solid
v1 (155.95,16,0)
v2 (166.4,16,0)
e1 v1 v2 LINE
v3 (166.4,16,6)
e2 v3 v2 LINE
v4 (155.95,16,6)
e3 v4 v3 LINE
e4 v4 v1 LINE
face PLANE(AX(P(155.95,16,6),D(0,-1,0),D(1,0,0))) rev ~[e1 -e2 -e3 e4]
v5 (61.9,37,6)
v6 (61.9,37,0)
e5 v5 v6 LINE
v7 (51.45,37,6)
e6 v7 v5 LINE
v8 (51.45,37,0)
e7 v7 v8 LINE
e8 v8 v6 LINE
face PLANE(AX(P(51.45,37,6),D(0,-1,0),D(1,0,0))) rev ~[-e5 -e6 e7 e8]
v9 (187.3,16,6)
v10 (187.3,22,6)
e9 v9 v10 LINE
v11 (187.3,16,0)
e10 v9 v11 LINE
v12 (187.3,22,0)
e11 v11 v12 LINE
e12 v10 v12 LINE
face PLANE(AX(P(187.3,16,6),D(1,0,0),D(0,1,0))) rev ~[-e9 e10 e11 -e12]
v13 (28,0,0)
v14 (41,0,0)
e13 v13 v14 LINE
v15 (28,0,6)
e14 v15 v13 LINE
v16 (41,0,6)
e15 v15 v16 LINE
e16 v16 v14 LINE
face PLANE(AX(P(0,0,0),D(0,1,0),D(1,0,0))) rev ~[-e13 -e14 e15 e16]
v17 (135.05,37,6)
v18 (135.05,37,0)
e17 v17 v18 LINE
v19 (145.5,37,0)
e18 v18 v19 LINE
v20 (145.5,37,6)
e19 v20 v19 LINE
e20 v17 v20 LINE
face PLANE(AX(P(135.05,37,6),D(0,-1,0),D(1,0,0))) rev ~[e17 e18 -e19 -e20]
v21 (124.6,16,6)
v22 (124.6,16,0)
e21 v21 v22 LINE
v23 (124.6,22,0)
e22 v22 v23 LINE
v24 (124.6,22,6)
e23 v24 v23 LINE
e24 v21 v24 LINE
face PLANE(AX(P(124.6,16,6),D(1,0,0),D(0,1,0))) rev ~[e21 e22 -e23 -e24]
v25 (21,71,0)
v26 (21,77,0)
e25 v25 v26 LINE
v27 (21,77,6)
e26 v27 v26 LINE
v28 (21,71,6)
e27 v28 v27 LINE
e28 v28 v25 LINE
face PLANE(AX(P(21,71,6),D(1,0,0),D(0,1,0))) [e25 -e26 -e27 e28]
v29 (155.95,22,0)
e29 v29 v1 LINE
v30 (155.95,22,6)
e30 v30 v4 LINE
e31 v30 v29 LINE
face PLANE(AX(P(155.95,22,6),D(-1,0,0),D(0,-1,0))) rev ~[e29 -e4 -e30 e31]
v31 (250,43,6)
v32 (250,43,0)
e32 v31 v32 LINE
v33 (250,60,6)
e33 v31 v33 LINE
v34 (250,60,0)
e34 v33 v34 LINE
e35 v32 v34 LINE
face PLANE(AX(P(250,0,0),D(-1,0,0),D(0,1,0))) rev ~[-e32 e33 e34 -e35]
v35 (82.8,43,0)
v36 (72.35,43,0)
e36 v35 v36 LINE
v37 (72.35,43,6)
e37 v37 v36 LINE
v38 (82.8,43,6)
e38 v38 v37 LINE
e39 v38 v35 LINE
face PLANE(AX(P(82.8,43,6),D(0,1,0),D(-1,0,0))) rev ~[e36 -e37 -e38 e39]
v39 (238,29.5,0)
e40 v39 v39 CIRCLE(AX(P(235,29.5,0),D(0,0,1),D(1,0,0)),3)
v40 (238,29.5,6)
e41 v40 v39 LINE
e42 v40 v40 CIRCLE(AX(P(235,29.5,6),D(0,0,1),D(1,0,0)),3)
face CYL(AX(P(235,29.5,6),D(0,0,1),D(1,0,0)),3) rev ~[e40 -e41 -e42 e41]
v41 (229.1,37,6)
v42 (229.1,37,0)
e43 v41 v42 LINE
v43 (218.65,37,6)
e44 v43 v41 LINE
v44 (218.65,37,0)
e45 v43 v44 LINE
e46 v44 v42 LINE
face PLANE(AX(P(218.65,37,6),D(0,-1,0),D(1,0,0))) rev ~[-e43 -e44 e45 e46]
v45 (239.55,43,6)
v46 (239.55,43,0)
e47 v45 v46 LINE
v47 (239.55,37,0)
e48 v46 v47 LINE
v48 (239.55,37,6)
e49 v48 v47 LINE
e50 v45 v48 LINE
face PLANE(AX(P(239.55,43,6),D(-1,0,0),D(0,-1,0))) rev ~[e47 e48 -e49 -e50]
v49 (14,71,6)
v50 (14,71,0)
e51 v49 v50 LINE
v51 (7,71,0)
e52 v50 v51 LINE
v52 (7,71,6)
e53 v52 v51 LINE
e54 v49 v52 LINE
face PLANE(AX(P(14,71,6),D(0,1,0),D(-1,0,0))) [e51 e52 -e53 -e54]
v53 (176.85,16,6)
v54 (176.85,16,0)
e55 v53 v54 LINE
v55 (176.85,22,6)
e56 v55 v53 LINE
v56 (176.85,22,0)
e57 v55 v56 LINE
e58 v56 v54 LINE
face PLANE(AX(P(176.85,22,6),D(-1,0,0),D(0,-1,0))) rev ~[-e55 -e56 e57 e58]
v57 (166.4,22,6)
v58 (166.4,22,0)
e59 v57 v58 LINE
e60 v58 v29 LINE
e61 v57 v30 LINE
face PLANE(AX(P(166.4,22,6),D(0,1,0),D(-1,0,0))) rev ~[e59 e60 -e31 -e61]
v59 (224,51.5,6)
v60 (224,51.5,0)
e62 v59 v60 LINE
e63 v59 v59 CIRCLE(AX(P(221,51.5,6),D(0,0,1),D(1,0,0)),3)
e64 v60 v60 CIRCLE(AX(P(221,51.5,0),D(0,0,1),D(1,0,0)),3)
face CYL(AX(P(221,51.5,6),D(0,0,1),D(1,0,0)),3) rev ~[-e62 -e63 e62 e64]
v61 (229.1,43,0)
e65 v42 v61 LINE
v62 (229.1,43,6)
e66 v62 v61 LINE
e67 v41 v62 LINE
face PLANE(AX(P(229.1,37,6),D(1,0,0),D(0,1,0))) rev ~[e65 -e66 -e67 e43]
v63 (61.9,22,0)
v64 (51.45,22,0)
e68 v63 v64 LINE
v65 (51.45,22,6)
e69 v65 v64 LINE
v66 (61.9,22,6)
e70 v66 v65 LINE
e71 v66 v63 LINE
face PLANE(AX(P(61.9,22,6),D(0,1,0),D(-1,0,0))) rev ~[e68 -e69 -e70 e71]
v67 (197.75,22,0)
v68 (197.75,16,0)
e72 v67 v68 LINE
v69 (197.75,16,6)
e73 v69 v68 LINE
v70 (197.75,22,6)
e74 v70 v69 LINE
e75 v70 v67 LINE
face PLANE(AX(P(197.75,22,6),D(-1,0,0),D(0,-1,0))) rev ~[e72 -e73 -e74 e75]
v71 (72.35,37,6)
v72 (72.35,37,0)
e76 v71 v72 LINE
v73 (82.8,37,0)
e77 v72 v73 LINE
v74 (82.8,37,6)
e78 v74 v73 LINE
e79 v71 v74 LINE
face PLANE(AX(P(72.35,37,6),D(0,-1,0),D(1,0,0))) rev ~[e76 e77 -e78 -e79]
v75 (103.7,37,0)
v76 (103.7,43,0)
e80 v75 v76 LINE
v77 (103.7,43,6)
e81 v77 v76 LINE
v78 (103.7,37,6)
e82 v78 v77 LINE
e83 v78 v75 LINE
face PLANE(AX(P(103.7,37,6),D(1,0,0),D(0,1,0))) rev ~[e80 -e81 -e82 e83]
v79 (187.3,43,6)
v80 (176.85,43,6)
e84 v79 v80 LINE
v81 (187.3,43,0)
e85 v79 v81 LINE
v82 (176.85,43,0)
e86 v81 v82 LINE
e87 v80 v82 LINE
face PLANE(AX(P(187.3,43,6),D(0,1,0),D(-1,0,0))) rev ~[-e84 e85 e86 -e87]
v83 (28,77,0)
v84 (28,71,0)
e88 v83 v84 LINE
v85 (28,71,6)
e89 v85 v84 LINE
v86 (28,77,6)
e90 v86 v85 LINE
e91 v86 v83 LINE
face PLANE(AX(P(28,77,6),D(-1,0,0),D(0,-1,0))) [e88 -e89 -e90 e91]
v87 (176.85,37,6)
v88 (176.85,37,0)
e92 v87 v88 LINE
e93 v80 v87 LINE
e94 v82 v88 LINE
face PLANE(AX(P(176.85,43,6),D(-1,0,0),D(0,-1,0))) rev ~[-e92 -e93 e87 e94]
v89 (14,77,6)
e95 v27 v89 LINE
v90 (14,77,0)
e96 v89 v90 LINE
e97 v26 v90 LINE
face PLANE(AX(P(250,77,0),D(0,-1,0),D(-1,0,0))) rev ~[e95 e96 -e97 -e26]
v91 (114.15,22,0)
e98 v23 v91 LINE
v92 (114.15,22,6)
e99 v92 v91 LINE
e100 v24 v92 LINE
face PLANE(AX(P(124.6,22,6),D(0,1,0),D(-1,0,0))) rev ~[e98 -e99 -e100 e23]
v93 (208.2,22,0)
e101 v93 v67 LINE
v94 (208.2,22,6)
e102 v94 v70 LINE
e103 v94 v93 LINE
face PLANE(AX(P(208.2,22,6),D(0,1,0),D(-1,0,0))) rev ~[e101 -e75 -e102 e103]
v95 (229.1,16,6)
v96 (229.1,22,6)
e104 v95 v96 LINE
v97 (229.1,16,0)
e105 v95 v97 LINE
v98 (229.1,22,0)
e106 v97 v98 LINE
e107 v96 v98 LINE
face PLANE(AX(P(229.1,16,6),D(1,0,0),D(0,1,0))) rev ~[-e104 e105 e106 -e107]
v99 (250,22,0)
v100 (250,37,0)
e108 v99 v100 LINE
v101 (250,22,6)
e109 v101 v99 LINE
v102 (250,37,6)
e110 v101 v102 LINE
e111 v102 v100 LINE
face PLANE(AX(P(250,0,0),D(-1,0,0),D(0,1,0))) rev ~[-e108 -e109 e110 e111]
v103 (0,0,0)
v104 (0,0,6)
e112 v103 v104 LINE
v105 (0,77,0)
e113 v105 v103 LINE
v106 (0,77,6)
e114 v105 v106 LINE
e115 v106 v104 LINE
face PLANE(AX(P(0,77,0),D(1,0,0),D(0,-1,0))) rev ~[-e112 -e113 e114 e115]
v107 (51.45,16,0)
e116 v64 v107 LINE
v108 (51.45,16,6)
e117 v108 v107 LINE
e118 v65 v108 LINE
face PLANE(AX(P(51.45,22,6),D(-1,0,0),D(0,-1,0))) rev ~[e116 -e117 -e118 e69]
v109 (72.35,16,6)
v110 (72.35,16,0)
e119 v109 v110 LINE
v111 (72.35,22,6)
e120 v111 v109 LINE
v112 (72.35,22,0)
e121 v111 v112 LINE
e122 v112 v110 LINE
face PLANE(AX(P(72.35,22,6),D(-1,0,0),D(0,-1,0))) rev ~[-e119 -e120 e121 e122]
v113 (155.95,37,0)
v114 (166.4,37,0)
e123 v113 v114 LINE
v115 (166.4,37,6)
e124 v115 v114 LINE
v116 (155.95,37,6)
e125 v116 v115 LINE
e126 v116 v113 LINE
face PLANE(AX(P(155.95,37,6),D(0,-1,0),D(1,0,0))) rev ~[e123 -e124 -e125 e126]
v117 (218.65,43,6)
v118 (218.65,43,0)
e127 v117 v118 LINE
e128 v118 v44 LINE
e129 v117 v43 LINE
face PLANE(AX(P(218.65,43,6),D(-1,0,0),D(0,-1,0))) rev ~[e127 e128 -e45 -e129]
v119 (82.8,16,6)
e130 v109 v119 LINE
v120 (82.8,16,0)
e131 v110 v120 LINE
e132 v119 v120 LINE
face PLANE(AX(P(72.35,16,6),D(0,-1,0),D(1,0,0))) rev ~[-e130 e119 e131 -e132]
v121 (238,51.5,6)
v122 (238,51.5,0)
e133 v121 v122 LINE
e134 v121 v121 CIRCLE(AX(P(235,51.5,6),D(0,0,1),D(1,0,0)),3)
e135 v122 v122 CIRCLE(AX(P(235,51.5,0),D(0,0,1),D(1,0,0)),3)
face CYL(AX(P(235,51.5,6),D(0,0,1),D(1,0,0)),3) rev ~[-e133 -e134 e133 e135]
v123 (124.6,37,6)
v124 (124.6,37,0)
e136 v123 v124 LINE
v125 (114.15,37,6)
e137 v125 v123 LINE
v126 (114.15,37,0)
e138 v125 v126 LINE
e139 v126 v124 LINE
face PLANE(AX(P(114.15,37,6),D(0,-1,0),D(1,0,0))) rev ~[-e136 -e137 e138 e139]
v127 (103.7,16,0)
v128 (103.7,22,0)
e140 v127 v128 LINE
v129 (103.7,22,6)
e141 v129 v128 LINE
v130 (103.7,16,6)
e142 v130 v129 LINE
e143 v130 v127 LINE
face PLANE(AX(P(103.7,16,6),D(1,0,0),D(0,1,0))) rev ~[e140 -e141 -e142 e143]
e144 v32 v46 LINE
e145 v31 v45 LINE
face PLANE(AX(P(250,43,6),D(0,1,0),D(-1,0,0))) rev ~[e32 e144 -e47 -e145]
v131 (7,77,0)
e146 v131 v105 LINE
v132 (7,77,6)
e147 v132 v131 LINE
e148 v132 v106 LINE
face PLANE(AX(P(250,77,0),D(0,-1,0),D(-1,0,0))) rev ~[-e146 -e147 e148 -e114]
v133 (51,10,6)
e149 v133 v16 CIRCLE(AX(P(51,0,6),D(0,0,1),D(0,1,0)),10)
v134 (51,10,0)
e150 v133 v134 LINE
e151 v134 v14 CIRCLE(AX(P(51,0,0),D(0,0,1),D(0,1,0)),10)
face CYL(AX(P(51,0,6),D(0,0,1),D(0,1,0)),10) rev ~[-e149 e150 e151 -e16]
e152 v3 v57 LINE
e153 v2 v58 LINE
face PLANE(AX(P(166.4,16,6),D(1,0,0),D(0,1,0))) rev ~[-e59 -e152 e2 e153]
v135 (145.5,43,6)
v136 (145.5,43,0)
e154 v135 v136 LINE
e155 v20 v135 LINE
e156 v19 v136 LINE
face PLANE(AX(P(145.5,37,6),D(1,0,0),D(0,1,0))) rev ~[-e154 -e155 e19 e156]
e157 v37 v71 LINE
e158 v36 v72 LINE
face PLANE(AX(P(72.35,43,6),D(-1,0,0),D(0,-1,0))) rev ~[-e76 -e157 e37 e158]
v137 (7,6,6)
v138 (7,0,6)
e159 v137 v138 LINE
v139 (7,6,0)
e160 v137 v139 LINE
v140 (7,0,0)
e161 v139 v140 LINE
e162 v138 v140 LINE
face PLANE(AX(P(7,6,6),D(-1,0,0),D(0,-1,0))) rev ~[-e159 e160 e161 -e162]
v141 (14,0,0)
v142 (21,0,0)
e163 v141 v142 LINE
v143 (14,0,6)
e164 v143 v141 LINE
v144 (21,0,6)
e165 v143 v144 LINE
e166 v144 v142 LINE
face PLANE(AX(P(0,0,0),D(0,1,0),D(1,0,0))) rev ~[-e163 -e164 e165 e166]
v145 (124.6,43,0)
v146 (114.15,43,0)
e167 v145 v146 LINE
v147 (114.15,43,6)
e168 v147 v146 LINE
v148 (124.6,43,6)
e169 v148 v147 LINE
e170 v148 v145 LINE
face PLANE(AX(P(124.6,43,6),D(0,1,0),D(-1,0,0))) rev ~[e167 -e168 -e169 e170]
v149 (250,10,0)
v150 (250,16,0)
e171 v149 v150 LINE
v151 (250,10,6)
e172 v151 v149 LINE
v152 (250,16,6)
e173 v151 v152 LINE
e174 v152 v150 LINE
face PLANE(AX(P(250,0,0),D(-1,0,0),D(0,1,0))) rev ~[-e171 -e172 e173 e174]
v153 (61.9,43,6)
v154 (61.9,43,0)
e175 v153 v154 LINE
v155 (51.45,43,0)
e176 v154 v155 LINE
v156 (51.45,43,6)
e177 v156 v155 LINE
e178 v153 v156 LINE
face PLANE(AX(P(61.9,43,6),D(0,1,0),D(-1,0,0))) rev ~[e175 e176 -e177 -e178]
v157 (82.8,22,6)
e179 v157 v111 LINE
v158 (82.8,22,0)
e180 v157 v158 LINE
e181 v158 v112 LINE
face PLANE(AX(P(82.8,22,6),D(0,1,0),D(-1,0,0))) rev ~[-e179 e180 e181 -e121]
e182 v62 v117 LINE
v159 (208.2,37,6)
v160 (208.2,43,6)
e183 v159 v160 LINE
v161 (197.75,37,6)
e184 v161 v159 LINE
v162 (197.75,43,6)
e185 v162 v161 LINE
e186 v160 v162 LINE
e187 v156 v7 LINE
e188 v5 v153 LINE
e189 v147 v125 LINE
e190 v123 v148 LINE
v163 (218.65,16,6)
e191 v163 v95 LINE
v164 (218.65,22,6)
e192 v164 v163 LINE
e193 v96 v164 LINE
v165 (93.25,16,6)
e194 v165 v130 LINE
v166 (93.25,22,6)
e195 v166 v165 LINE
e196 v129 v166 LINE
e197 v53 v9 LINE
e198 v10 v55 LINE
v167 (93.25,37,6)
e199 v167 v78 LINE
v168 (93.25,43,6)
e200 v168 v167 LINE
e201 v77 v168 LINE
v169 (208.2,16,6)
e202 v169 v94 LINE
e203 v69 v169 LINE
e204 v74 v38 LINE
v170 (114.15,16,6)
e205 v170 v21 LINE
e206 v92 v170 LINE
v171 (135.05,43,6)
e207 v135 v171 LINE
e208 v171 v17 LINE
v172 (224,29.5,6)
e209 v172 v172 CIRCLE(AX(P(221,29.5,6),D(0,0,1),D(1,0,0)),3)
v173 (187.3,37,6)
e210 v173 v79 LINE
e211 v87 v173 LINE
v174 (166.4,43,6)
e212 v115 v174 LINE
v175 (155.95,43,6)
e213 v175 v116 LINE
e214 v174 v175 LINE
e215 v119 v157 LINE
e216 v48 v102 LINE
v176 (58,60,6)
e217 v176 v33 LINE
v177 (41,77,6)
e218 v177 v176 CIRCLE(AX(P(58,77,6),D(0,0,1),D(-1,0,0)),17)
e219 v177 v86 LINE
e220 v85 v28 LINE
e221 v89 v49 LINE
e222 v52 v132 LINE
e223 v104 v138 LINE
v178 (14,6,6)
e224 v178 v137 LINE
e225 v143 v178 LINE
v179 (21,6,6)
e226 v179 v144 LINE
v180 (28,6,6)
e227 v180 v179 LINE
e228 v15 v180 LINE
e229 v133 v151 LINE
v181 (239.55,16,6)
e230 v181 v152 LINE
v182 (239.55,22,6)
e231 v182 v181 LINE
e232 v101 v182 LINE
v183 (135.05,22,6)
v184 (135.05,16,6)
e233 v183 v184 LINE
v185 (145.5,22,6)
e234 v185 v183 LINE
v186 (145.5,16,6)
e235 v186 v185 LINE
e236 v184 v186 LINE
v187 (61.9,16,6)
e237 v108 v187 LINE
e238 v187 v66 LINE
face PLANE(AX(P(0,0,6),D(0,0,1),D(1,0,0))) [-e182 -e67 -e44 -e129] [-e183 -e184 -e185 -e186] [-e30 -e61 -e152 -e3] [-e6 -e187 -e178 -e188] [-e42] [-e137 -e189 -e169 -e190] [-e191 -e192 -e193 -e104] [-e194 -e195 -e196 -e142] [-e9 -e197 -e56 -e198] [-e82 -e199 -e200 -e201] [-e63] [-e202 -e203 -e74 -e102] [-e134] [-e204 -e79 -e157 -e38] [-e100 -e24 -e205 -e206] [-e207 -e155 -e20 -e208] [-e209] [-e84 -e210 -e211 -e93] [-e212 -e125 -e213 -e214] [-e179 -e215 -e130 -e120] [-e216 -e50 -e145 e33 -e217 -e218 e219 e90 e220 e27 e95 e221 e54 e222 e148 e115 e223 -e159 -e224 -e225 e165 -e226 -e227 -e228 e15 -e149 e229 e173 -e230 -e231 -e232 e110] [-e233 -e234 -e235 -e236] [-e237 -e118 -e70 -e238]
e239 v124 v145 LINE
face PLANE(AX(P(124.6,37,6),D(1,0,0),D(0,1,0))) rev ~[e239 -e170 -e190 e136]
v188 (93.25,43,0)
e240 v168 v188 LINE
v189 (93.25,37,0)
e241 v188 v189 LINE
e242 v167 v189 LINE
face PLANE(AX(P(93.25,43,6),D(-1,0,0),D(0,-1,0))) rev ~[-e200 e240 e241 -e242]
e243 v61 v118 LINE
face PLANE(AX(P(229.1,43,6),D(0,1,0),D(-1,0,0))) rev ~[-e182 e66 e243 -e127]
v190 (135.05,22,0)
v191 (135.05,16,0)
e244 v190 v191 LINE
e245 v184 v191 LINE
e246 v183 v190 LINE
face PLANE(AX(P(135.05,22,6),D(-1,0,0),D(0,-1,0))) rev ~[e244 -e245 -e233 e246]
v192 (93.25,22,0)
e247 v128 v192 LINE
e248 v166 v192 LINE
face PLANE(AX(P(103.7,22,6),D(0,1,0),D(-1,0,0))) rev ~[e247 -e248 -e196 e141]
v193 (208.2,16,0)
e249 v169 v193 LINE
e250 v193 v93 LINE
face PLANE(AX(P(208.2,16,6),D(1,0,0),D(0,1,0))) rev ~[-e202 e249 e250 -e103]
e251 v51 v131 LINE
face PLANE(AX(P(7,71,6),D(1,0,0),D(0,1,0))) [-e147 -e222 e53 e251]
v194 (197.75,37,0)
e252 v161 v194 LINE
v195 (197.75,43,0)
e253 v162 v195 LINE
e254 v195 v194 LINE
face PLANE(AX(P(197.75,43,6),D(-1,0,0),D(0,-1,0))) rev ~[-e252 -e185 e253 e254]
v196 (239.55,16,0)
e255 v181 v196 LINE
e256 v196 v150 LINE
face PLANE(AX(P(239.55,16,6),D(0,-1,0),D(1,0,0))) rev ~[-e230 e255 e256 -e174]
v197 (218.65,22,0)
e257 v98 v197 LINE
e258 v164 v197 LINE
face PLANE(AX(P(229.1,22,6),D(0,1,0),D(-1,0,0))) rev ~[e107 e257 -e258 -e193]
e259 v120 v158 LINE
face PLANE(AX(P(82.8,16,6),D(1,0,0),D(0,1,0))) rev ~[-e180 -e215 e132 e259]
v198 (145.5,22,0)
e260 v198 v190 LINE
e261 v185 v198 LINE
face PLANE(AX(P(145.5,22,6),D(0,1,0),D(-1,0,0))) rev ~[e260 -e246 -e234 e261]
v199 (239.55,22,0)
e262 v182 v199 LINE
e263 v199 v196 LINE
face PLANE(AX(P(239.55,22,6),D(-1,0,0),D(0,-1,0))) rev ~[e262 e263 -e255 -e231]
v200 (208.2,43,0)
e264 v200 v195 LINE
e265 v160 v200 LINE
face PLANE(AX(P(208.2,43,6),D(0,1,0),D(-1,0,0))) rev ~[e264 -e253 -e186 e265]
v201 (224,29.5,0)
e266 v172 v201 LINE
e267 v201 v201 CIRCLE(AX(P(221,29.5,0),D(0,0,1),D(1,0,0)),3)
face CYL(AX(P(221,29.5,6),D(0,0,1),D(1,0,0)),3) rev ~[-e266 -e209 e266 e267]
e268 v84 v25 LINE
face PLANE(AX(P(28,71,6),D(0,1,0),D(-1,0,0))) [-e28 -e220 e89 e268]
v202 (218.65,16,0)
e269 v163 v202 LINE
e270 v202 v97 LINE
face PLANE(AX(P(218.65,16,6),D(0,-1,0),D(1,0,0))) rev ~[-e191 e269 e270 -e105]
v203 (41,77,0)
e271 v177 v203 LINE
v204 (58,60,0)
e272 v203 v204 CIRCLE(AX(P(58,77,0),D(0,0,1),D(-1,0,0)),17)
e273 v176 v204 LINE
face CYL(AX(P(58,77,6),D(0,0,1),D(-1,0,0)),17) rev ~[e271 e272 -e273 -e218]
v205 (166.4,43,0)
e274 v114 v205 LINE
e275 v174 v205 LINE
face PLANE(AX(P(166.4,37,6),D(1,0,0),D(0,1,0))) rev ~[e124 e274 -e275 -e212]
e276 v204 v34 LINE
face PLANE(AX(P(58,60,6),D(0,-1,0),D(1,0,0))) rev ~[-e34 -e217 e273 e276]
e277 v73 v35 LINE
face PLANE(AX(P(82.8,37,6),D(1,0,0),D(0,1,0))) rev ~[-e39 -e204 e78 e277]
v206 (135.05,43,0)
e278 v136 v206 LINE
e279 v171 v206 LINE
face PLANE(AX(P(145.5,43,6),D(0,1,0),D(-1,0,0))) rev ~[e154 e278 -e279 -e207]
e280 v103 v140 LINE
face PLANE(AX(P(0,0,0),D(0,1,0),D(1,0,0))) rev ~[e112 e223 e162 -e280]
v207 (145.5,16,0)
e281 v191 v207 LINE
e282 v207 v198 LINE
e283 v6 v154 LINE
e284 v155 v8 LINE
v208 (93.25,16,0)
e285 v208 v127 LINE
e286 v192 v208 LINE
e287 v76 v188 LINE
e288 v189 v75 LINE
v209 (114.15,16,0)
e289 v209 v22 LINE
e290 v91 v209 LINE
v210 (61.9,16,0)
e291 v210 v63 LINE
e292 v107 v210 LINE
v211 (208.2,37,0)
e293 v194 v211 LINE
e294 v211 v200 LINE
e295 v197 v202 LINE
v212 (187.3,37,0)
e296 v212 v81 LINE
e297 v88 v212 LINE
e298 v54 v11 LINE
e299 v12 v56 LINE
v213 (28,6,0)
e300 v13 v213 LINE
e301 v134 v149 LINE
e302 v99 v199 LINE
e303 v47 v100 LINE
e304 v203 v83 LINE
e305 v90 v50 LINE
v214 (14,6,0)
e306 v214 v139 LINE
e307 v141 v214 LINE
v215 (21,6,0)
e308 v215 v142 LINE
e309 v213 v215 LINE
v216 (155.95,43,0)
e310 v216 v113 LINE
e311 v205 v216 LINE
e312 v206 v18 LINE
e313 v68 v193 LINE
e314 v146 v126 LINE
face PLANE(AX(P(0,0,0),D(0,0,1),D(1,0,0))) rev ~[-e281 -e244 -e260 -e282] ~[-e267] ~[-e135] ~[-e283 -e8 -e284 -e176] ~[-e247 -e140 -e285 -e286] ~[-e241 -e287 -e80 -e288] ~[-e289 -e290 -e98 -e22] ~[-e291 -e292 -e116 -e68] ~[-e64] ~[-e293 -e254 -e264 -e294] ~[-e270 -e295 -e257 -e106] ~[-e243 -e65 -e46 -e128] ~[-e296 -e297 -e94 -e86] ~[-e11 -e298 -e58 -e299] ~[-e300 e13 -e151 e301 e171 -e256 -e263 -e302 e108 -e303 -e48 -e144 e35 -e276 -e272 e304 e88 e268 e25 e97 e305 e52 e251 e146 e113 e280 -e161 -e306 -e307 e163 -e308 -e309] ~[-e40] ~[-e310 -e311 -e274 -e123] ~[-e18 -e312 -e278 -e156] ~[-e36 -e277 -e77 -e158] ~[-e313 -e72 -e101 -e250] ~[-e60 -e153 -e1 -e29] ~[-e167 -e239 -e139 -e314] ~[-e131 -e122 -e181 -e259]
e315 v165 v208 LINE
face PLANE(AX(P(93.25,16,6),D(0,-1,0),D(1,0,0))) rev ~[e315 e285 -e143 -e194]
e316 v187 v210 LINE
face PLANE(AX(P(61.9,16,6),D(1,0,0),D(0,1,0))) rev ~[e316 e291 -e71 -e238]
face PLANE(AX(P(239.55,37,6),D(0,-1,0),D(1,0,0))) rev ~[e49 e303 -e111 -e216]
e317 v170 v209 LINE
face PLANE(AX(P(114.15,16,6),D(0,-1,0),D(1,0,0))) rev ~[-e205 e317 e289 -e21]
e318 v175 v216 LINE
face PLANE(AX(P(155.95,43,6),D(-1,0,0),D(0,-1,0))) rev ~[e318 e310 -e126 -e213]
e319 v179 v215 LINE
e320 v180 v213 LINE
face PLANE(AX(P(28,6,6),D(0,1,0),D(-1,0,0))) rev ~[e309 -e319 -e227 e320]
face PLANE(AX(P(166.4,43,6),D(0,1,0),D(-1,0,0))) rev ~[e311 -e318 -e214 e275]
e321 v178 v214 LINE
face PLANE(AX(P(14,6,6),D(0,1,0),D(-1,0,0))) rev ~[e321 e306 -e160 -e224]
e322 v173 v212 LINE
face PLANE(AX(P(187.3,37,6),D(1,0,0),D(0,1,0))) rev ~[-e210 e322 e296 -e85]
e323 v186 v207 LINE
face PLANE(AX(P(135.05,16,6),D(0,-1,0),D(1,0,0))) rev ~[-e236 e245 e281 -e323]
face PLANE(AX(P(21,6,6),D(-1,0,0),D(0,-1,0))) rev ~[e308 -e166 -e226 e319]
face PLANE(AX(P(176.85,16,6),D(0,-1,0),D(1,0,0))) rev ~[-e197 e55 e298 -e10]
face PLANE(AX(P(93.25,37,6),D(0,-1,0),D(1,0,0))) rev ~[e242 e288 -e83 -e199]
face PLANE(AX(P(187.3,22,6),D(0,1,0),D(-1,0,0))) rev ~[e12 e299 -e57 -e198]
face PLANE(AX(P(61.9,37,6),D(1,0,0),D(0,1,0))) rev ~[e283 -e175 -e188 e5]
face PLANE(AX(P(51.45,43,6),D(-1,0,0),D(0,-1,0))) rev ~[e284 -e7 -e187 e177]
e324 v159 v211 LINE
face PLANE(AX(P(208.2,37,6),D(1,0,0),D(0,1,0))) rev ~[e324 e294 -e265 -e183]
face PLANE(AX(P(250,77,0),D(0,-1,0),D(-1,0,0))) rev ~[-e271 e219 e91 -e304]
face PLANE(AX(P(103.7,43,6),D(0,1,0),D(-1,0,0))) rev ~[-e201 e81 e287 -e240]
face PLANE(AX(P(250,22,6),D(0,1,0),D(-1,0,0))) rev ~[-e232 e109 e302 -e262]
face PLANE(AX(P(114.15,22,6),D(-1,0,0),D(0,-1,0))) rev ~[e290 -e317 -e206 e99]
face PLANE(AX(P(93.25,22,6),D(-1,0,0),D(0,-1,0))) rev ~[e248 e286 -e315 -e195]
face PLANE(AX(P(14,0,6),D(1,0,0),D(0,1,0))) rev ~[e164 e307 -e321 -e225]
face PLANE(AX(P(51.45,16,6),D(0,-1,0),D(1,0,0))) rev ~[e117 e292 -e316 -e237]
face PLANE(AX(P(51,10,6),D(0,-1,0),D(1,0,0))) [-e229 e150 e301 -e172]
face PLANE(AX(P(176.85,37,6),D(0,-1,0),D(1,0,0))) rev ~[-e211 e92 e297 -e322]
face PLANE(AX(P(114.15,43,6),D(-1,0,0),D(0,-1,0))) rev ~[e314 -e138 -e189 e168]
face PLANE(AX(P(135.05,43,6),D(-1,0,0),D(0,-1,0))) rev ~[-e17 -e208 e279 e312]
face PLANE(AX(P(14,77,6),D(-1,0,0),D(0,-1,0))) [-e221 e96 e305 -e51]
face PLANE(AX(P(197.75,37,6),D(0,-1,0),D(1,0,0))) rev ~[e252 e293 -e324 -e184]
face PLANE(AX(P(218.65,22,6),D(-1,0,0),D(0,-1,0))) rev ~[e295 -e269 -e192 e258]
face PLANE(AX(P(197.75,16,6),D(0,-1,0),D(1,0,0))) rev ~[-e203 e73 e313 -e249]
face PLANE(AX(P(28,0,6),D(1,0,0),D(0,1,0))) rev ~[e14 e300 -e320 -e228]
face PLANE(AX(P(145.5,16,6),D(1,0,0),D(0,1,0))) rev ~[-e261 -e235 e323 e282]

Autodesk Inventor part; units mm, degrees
ref_plane "YZ Plane" through (0, 0, 0) normal (1, 0, 0) x (0, 1, 0)
ref_plane "XZ Plane" through (0, 0, 0) normal (0, 1, 0) x (-1, 0, 0)
ref_plane "XY Plane" through (0, 0, 0) normal (0, 0, 1) x (1, 0, 0)
sketch "Sketch1" plane through (0, 0, 0) normal (0, 0, 1) x (1, 0, 0)
  line L0 (0, 0) -> (250, 0)
  line L1 (250, 0) -> (250, 77)
  line L2 (250, 77) -> (0, 77)
  line L3 (0, 77) -> (0, 0)
  dimension "d0" = 250
  dimension "d1" = 77
extrude "Extrusion1" add sketch "Sketch1" along normal blind 6
sketch "Sketch2" plane through (0, 0, 6) normal (0, 0, 1) x (1, 0, 0)
  line L0 (250, 77) -> (0, 77) projected
  line L1 (0, 77) -> (7, 77)
  line L2 (7, 77) -> (14, 77)
  line L3 (14, 77) -> (14, 71)
  line L4 (14, 71) -> (7, 71)
  line L5 (7, 71) -> (7, 77)
  line L6 (0, 0) -> (250, 0) projected
  line L7 (0, 0) -> (7, 0)
  line L8 (7, 0) -> (14, 0)
  line L9 (14, 0) -> (14, 6)
  line L10 (14, 6) -> (7, 6)
  line L11 (7, 6) -> (7, 0)
  dimension "d4" = 7
  dimension "d5" = 7
  dimension "d6" = 6
  dimension "d7" = 7
  dimension "d8" = 7
  dimension "d9" = 6
extrude "Extrusion2" cut sketch "Sketch2" against normal blind 6
pattern_linear "Rectangular Pattern1" count 2 spacing 14 along (1, 0, 0) of "Extrusion2"
sketch "Sketch3" plane through (0, 0, 6) normal (0, 0, 1) x (1, 0, 0)
  line L0 (250, 77) -> (28, 77) projected
  line L1 (41, 77) -> (49.5, 77)
  line L2 (28, 0) -> (250, 0) projected
  line L3 (41, 0) -> (51, 0)
  arc A0 (51, 10) -> (41, 0) centre (51, 0) ccw
  line L4 (41, 77) -> (58, 77)
  arc A1 (41, 77) -> (58, 60) centre (58, 77) ccw
  line L5 (58, 60) -> (250, 60)
  line L6 (51, 10) -> (250, 10)
  line L7 (250, 0) -> (250, 77) projected
  point P0 (0, 0)
  point P1 (0, 77)
  dimension "d15" = 41
  dimension "d21" = 34
extrude "Extrusion3" cut sketch "Sketch3" against normal blind 6
sketch "Sketch4" plane through (0, 0, 6) normal (0, 0, 1) x (1, 0, 0)
  line L0 (28, 0) -> (41, 0) projected
  line L1 (51.45, 16) -> (61.9, 16)
  line L2 (61.9, 16) -> (61.9, 22)
  line L3 (61.9, 22) -> (51.45, 22)
  line L4 (51.45, 22) -> (51.45, 16)
  line L5 (51.45, 37) -> (61.9, 37)
  line L6 (61.9, 37) -> (61.9, 43)
  line L7 (61.9, 43) -> (51.45, 43)
  line L8 (51.45, 43) -> (51.45, 37)
  point P0 (0, 0)
  point P1 (51, 10)
  dimension "d26" = 10.45
  dimension "d27" = 6
  dimension "d28" = 15
  dimension "d29" = 10.45
  dimension "d30" = 6
extrude "Extrusion4" cut sketch "Sketch4" against normal blind 6
pattern_linear "Rectangular Pattern2" count 10 spacing 20.9 along (1, 0, 0) of "Extrusion4"
sketch "Sketch5" plane through (0, 0, 6) normal (0, 0, 1) x (1, 0, 0)
  line L0 (250, 43) -> (250, 60) projected
  circle A0 centre (235, 51.5) radius 3
  circle A1 centre (221, 51.5) radius 3
  line L1 (250, 22) -> (250, 37) projected
  circle A2 centre (221, 29.5) radius 3
  circle A3 centre (235, 29.5) radius 3
  point P0 (0, 0)
  dimension "d37" = 6
  dimension "d39" = 6
  dimension "d40" = 6
  dimension "d41" = 6
extrude "Extrusion5" cut sketch "Sketch5" against normal blind 6
properties part number "g_arm1"
